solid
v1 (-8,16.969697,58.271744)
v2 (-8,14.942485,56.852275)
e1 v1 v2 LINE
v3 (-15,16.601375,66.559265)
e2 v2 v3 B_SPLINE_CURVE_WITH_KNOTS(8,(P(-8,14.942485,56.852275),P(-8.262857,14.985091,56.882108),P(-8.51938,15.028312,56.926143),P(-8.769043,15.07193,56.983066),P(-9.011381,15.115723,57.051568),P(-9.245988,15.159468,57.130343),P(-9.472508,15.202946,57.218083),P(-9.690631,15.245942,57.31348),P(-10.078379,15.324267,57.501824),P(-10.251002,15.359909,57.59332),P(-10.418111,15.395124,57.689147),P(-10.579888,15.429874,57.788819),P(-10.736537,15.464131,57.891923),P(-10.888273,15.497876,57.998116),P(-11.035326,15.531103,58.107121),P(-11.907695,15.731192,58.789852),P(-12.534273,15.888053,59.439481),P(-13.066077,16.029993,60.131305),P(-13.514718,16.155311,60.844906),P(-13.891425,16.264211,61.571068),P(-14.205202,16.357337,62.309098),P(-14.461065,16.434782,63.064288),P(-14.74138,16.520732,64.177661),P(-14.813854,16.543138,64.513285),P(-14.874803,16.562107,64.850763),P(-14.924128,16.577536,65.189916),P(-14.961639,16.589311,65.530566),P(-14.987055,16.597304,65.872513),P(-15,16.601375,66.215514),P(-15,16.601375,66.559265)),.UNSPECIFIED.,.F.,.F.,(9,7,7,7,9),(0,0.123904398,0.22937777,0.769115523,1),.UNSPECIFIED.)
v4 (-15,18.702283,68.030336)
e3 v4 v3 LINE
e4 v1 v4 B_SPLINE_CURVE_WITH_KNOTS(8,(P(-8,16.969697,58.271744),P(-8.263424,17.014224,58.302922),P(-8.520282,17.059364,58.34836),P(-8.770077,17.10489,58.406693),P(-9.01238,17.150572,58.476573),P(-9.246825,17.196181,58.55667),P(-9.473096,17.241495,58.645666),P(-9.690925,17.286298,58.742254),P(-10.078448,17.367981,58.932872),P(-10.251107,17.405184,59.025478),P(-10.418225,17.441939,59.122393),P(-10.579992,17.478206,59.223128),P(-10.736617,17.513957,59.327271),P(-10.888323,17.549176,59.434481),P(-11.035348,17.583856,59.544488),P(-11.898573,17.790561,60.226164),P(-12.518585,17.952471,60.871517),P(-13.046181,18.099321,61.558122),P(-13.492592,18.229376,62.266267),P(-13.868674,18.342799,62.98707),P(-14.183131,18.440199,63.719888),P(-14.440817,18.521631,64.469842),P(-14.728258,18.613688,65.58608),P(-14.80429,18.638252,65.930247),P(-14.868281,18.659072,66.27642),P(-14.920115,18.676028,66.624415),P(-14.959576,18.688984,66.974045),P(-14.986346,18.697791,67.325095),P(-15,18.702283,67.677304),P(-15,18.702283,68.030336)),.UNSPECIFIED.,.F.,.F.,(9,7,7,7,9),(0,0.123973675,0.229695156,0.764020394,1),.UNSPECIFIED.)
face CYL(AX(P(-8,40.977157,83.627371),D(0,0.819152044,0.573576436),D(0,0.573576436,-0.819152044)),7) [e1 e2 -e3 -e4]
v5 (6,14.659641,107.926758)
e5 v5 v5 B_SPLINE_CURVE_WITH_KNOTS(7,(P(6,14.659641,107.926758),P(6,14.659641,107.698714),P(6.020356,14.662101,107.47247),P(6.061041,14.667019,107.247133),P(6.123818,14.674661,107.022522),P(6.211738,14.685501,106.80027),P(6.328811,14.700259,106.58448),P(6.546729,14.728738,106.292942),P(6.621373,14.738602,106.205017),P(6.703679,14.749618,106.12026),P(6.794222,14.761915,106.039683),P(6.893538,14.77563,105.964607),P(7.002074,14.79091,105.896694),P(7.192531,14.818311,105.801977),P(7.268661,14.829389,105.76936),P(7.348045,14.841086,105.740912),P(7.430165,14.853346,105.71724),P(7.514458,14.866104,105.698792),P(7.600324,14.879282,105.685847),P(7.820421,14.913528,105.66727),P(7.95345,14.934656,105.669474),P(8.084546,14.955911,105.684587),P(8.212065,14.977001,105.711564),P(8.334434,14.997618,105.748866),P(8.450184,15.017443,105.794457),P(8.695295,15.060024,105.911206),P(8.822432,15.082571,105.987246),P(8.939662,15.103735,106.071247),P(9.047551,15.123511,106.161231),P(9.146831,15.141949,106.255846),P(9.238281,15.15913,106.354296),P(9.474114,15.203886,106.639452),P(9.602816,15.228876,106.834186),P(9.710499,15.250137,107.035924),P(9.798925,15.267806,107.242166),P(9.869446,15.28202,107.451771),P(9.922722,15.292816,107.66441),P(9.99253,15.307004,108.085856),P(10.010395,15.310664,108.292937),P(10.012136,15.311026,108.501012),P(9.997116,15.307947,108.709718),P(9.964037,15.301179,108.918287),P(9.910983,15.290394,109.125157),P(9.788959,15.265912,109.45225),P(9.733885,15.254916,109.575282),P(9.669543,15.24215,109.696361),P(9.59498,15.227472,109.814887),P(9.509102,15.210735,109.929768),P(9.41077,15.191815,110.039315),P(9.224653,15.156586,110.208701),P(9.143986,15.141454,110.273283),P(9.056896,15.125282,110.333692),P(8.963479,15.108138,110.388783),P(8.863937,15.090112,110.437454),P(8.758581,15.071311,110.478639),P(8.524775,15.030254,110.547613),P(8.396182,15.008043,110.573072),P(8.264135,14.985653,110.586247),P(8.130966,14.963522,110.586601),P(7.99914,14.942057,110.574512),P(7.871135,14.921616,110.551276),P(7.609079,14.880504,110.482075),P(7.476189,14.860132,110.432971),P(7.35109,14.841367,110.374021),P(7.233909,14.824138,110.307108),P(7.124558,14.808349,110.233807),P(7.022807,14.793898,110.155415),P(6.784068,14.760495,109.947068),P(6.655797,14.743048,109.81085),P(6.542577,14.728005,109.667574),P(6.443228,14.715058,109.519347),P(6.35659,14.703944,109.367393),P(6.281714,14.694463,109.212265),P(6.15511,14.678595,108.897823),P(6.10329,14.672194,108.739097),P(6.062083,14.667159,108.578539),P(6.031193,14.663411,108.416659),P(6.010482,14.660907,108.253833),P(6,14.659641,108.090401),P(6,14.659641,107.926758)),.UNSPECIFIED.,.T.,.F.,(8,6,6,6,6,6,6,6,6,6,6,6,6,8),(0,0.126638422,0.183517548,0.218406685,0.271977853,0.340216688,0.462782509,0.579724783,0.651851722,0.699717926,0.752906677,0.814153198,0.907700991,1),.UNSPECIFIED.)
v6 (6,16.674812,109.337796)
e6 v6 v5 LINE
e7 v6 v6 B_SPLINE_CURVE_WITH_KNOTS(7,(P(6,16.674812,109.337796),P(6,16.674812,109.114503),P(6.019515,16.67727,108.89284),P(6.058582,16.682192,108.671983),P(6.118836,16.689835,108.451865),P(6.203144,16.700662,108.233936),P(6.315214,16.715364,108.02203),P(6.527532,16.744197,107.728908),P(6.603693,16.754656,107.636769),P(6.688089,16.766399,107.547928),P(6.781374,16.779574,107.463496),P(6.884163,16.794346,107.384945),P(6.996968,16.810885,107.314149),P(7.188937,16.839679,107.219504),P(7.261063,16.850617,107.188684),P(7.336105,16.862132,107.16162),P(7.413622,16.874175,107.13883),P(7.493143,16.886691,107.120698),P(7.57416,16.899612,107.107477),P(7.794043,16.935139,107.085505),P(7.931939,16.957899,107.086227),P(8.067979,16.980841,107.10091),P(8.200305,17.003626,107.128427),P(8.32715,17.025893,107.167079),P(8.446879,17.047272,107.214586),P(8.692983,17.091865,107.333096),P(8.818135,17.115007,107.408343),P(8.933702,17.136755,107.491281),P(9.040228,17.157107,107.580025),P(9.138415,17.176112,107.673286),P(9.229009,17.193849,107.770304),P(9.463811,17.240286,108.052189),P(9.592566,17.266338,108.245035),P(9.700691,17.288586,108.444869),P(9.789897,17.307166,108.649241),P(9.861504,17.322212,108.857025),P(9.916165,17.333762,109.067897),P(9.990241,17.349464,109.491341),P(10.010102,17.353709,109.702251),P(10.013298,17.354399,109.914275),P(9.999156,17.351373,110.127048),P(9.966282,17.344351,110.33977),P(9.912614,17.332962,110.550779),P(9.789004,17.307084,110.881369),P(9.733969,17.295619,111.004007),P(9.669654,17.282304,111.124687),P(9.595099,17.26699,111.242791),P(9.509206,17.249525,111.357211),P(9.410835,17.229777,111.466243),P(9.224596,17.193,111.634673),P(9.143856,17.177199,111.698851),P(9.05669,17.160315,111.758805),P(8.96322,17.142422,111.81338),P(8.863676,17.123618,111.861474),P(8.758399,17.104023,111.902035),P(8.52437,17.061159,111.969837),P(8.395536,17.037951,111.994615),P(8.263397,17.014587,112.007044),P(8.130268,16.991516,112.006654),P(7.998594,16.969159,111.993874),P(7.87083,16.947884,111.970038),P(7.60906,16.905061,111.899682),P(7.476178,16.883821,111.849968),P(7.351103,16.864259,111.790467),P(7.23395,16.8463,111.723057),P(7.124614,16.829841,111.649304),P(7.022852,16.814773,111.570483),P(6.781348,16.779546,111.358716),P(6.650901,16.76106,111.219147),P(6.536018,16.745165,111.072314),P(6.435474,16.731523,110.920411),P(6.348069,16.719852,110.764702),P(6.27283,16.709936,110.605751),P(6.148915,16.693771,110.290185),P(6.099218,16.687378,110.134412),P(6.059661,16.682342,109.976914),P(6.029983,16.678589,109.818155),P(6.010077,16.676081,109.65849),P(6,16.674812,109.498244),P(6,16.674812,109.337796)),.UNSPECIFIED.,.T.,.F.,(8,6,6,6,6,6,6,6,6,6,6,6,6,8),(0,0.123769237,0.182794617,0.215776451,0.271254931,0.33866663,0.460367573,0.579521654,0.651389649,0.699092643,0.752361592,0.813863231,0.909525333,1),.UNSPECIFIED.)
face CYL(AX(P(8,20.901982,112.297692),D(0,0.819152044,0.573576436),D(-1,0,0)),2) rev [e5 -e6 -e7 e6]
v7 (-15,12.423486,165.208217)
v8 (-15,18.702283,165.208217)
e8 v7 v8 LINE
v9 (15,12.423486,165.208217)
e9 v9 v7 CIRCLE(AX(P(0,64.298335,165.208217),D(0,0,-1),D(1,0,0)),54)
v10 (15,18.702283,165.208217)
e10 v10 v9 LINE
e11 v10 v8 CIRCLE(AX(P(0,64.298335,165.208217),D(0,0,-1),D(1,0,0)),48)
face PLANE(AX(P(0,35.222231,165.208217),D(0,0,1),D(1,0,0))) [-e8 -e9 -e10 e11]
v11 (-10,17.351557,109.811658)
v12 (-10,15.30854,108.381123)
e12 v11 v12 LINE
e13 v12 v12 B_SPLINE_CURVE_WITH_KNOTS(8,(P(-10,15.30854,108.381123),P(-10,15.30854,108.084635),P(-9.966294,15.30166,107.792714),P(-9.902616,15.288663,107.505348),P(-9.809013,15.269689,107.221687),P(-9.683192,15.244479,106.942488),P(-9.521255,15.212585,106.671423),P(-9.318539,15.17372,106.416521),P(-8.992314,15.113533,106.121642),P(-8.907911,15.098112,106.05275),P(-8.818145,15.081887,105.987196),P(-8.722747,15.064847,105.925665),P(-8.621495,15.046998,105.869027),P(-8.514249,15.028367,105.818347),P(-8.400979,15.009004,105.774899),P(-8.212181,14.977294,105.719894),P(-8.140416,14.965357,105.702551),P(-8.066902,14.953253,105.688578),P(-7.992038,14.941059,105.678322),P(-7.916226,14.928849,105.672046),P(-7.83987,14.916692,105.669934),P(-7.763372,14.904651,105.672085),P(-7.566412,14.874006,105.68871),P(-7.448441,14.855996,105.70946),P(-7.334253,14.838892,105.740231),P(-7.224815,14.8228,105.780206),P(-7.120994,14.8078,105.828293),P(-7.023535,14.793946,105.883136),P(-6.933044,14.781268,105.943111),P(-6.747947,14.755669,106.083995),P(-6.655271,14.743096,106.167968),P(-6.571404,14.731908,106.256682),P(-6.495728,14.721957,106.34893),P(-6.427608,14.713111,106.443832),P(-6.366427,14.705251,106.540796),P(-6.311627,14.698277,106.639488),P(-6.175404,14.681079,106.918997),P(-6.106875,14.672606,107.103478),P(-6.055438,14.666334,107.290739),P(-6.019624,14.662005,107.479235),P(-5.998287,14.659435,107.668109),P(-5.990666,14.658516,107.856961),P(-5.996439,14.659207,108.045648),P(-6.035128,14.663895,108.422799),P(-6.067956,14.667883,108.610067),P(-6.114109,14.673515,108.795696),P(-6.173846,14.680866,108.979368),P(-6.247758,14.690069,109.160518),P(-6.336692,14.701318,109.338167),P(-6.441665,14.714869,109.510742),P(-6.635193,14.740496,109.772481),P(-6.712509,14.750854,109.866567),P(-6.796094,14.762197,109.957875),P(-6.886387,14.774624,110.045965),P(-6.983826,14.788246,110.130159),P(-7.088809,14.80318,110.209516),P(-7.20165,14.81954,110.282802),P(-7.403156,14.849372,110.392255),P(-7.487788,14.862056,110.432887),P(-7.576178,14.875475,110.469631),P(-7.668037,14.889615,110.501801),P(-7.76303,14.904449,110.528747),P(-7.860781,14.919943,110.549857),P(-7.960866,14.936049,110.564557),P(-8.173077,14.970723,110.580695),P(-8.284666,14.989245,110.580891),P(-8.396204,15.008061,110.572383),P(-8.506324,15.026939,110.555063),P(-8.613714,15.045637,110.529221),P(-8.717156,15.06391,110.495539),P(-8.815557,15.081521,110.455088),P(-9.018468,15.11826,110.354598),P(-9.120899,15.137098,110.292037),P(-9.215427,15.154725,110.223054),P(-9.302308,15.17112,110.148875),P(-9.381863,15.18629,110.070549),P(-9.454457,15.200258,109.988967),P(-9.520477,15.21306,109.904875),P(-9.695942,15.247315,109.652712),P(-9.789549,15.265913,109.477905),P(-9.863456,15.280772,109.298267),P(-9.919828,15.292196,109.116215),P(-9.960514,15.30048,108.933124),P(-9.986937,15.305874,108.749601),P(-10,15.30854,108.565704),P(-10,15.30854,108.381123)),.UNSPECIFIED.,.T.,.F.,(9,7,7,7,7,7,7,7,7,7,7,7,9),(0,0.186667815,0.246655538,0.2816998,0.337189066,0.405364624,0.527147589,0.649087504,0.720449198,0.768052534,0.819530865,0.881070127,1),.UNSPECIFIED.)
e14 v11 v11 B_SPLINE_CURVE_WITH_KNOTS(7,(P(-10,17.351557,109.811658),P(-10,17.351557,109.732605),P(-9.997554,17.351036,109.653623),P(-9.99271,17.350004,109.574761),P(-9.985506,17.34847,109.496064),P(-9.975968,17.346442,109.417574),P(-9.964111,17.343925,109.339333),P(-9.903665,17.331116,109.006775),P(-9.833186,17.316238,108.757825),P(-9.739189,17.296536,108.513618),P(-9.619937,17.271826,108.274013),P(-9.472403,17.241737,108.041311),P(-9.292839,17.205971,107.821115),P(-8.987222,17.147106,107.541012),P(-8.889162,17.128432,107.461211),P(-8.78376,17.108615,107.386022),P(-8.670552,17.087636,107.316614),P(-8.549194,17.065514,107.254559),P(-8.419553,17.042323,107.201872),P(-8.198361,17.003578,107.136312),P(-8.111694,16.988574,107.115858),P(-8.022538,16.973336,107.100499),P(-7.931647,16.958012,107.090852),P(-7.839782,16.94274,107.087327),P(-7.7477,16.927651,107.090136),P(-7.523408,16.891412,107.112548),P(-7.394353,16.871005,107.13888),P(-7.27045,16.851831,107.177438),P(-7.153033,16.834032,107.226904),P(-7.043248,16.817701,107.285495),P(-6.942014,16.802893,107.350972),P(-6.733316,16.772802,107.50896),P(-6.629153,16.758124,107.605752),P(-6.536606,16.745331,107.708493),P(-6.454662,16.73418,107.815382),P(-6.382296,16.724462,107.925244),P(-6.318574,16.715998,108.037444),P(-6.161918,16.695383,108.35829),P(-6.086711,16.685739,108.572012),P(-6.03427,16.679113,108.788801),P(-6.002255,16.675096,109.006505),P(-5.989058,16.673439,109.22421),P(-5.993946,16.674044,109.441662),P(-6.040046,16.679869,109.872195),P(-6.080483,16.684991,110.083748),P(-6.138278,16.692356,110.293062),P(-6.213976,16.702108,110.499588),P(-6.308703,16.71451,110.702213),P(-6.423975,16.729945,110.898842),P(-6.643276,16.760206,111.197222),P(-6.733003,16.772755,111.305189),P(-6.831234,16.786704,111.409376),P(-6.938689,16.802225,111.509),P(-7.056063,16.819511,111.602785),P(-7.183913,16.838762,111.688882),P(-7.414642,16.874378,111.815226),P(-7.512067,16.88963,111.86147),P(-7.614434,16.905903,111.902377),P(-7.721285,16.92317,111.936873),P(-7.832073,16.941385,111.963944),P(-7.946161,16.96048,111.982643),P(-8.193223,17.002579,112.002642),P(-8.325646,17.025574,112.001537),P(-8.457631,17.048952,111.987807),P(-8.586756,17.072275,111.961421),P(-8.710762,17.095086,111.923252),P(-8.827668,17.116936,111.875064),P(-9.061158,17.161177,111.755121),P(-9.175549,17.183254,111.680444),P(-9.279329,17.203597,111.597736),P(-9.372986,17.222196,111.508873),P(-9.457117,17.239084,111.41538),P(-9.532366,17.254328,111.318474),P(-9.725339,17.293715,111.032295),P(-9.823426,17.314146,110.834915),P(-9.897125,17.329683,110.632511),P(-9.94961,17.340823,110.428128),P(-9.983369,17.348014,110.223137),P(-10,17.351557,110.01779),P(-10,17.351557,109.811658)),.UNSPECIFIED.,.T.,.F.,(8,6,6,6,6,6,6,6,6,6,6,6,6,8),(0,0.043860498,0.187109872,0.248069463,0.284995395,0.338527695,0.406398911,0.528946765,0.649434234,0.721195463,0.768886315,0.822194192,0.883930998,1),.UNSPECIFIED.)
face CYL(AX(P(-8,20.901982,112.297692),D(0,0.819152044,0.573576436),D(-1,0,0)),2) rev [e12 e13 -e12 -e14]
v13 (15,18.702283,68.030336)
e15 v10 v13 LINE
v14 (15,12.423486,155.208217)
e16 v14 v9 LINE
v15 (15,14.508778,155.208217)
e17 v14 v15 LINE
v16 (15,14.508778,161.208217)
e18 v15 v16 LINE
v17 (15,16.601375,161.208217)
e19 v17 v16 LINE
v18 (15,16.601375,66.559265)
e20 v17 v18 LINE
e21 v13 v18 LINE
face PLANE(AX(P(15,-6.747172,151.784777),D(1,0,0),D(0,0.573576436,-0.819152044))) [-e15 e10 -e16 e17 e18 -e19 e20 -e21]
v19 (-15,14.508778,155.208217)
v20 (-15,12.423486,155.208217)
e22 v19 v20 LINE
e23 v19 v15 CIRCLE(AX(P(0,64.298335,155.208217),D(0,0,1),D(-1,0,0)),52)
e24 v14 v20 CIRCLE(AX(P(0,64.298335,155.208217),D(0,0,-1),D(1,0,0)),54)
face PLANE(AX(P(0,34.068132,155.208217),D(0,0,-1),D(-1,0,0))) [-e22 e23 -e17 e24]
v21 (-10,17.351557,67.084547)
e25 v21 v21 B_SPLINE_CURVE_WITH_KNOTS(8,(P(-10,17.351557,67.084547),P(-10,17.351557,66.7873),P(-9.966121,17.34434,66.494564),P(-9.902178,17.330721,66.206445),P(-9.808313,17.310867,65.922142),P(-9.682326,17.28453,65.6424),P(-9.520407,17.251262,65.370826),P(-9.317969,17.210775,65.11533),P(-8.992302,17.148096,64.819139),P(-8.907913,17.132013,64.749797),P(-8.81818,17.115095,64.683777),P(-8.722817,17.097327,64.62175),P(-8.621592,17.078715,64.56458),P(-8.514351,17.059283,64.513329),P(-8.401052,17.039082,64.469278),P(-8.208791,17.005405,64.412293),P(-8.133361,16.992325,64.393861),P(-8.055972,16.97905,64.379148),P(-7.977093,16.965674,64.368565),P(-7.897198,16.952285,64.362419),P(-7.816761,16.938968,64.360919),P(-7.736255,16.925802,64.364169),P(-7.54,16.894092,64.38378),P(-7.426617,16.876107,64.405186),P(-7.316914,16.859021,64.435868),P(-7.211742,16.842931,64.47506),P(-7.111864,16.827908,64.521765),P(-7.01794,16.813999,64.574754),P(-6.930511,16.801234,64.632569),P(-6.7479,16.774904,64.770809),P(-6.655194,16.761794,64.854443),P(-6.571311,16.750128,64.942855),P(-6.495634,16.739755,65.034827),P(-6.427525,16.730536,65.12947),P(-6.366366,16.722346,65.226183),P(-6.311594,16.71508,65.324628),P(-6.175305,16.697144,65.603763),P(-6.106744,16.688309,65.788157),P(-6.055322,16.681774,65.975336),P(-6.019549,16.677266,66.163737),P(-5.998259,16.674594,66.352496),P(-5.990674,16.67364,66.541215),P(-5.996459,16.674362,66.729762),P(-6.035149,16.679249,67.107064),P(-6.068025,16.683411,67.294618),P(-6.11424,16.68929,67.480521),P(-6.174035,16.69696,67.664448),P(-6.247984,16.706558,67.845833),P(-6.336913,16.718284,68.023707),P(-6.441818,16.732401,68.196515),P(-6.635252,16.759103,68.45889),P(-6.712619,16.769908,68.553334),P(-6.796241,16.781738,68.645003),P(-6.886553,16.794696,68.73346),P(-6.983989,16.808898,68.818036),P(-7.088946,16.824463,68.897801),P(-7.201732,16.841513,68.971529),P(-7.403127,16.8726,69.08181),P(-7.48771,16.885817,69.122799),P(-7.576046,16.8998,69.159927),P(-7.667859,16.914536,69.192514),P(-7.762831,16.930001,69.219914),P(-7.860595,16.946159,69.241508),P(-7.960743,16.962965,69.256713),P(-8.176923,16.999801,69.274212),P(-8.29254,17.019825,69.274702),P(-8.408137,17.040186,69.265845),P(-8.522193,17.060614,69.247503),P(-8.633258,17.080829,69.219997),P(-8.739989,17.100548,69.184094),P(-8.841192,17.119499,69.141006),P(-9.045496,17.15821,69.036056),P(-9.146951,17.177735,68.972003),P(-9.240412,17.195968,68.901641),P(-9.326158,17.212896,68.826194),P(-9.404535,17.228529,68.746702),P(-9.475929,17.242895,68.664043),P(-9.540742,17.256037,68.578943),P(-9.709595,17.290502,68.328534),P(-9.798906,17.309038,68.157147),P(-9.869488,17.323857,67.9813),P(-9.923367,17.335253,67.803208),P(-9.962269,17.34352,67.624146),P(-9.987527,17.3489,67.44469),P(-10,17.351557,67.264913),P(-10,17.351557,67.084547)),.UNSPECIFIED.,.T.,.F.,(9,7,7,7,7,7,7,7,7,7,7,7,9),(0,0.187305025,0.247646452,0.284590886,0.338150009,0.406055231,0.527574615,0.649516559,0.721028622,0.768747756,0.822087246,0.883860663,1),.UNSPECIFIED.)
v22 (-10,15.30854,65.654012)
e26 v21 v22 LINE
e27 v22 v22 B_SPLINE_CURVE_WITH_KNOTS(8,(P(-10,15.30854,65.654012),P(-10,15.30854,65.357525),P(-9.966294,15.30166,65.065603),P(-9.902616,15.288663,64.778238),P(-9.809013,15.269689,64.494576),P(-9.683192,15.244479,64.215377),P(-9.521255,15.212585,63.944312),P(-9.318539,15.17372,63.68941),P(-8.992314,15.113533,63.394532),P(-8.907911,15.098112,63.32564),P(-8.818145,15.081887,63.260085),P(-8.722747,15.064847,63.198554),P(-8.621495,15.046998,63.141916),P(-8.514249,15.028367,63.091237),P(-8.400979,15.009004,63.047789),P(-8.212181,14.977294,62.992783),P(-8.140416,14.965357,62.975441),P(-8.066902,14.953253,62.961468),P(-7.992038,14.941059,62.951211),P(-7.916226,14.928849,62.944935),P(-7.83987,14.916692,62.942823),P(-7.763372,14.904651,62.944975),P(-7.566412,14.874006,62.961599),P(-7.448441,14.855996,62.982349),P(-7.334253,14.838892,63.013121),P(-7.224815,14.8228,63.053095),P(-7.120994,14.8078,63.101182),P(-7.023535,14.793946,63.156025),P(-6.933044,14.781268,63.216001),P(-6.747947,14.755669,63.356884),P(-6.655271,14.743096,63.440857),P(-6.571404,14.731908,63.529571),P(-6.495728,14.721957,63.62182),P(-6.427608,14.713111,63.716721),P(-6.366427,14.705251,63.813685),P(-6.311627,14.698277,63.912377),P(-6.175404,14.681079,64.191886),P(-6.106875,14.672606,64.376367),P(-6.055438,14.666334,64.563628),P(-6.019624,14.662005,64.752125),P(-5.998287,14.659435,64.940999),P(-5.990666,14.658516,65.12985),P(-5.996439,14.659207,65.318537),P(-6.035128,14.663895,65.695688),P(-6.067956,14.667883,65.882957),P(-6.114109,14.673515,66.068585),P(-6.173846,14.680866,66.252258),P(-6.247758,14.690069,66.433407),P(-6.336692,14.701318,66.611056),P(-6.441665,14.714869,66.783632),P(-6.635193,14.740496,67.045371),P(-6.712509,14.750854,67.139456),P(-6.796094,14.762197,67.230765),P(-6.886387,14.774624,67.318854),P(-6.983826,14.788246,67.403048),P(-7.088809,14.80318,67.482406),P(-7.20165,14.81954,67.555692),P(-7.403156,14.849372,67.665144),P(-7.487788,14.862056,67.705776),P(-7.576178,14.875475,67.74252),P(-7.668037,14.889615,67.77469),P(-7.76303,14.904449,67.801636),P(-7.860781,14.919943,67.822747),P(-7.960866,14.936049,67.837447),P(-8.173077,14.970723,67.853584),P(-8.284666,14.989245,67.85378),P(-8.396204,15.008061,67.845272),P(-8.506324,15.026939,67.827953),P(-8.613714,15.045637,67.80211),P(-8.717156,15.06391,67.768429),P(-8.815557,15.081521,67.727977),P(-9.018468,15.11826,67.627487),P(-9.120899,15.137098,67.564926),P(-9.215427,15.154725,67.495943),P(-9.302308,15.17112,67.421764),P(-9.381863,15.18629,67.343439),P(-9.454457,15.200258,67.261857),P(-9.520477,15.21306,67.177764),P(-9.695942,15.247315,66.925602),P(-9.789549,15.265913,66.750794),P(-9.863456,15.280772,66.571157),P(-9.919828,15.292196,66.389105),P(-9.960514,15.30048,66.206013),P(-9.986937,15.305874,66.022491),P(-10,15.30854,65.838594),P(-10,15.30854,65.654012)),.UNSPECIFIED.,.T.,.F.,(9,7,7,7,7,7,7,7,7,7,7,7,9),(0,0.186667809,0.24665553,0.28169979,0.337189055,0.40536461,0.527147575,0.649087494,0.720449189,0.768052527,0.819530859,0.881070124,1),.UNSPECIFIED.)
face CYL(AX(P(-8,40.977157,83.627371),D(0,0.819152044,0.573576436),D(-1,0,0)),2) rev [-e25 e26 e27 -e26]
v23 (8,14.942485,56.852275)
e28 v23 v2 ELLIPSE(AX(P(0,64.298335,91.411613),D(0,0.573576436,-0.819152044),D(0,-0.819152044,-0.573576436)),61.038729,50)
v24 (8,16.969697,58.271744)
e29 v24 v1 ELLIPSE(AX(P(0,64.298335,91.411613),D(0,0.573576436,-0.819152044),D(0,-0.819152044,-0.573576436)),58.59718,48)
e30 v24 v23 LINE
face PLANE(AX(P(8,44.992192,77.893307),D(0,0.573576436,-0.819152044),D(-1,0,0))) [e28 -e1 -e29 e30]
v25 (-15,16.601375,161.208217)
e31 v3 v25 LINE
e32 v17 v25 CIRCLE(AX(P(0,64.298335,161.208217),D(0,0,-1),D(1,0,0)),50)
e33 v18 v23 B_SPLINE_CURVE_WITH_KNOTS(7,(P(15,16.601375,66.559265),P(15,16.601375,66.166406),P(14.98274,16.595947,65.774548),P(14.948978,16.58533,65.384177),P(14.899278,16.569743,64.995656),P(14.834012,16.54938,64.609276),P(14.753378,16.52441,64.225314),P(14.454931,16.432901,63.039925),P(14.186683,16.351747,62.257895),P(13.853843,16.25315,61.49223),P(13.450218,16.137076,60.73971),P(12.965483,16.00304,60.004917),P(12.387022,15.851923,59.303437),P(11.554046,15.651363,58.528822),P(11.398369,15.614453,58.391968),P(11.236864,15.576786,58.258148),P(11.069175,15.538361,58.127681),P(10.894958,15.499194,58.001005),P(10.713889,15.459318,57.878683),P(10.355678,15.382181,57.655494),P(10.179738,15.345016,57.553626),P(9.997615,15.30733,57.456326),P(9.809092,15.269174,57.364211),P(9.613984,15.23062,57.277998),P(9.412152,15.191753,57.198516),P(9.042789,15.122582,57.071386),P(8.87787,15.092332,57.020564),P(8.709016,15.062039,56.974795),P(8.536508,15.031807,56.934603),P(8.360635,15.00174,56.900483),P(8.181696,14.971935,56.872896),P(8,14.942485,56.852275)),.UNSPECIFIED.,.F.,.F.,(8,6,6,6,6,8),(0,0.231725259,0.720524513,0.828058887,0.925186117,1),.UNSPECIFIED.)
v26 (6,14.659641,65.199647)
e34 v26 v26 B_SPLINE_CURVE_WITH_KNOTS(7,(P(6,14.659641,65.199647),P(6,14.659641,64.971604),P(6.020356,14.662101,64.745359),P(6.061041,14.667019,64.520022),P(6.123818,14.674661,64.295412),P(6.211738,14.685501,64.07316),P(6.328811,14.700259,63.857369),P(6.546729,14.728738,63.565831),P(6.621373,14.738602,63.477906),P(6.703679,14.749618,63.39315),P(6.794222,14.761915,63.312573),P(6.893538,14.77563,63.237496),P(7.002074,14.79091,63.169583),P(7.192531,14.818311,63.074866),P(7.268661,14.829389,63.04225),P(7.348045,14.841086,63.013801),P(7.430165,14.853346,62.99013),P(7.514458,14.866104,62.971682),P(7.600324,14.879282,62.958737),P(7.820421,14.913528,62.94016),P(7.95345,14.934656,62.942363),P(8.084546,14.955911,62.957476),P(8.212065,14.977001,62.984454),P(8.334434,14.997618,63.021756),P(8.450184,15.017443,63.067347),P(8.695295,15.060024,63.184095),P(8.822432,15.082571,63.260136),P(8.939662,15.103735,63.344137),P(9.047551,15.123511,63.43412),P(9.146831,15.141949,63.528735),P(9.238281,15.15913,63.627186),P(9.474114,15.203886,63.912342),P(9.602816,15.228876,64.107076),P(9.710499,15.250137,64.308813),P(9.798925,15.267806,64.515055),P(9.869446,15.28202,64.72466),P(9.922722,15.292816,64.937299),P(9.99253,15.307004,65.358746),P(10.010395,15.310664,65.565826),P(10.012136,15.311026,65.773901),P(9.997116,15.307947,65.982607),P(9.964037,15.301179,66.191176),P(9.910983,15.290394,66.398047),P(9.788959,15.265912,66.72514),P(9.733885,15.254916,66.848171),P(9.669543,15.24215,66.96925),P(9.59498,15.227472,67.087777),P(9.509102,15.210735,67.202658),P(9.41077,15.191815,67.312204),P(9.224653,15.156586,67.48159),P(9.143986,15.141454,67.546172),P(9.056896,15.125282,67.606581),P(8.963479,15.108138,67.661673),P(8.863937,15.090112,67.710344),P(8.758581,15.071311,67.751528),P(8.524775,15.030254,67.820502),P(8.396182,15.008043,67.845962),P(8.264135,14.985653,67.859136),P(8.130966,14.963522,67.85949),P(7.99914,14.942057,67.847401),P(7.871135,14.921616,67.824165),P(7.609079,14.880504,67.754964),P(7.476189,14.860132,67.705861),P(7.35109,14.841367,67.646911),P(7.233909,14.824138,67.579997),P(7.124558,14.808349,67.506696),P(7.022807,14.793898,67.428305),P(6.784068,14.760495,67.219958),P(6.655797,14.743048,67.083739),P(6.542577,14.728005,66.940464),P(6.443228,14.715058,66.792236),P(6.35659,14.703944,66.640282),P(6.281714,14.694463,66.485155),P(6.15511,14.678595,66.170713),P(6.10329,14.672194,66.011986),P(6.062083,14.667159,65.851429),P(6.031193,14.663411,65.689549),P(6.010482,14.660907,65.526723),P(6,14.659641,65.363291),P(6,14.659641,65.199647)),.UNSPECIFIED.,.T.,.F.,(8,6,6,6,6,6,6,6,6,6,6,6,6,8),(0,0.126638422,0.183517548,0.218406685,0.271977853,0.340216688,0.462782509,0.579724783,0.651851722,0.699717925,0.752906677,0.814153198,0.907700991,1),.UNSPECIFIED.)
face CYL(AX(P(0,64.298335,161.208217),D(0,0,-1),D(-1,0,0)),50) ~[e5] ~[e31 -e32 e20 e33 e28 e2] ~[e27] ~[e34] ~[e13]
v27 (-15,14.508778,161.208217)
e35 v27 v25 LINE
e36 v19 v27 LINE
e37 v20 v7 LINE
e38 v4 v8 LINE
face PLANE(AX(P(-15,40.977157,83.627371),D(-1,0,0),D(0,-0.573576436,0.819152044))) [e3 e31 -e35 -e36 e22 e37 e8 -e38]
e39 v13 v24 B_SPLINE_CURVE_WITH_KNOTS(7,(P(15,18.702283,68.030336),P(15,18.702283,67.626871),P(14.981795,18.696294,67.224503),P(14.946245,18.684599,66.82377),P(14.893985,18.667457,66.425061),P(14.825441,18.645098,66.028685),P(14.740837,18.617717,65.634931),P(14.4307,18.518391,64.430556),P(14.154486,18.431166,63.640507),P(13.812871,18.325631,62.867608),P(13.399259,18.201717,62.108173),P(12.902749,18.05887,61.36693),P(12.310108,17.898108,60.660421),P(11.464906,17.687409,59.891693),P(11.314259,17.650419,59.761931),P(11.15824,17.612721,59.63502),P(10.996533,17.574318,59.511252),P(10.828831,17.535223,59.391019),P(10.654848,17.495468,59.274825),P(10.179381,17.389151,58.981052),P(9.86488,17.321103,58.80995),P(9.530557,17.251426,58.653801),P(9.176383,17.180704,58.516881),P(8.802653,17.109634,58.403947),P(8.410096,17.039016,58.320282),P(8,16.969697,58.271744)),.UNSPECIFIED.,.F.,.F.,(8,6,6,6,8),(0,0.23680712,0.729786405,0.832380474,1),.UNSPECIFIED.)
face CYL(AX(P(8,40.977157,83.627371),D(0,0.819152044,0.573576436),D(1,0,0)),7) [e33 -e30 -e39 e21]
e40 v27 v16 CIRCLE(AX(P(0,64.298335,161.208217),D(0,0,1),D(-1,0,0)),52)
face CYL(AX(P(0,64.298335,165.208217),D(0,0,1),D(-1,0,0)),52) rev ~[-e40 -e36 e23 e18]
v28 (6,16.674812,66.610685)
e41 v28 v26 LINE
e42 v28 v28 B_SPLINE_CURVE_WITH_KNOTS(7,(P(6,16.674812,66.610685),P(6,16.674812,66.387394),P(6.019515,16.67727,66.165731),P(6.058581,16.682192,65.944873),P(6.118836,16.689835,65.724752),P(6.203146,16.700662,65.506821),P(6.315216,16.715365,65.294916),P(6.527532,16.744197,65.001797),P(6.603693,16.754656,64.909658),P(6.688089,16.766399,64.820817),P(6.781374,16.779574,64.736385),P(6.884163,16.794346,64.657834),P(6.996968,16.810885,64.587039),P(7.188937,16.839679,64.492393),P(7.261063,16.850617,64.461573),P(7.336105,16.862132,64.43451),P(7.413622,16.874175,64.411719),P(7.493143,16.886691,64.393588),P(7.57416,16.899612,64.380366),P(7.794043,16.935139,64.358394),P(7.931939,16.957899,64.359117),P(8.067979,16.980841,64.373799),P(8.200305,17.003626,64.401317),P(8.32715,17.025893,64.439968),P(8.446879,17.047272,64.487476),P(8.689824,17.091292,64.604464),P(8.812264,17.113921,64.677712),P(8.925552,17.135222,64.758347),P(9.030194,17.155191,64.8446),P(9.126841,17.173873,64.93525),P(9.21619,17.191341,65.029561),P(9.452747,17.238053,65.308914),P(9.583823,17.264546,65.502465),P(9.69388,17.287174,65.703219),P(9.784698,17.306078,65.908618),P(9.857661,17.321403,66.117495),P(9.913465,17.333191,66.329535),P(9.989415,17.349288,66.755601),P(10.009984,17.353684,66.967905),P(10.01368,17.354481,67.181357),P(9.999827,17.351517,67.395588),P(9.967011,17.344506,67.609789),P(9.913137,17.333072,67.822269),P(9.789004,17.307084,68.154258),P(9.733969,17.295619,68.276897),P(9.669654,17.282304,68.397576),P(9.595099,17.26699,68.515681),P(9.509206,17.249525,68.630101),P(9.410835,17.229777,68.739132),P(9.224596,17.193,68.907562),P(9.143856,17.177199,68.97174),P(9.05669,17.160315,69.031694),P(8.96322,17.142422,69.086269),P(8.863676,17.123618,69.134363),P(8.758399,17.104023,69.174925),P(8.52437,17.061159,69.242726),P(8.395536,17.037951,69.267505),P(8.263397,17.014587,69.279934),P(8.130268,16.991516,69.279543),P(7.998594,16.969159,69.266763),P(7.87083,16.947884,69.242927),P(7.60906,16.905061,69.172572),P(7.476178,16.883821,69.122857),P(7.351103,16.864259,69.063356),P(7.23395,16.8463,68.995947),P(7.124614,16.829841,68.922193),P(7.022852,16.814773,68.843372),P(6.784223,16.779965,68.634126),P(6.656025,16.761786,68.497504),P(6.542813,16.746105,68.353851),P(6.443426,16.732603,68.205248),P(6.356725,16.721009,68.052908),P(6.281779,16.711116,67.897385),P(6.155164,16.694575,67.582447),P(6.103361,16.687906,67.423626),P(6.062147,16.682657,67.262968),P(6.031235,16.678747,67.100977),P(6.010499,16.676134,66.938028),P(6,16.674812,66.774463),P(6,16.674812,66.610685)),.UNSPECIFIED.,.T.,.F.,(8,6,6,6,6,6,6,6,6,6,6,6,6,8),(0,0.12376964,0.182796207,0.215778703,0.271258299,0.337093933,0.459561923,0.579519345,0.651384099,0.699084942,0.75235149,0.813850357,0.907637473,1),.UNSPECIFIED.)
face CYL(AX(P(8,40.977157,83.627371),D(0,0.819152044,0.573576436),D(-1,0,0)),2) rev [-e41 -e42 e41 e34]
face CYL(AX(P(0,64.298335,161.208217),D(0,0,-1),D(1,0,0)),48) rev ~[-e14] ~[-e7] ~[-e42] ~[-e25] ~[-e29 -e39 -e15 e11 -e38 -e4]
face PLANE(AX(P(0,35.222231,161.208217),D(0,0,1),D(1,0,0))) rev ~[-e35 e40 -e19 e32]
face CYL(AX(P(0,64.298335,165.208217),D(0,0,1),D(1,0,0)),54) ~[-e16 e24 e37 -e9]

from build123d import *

# Parameters (mm, degrees)
BOSS_EXTRUDE1_DEPTH     = 161.208217
BOSS_EXTRUDE2_DEPTH     = 4
BOSS_EXTRUDE3_DEPTH     = 10
BOSS_EXTRUDE4_DEPTH     = 4
SKETCH6_R               = 2
CUT_EXTRUDE1_DEPTH      = 74.097308941
CUT_EXTRUDE1_DEPTH_BACK = 66.896441548


with BuildPart() as part:
    # Sketch1 → Boss-Extrude1 (new body)
    with BuildSketch(Plane.XY):
        with BuildLine():
            Line((50, 64.298335316), (48, 64.298335316))
            ThreePointArc((48, 64.298335316), (0, 16.298335316), (-48, 64.298335316))
            Line((-48, 64.298335316), (-50, 64.298335316))
            ThreePointArc((-50, 64.298335316), (0, 14.298335316), (50, 64.298335316))
        make_face()
    extrude(amount=BOSS_EXTRUDE1_DEPTH)

    # Sketch3 → Boss-Extrude2 (add)
    with BuildSketch(Plane.XY.offset(161.208216537)):
        with BuildLine():
            Line((50, 64.298335316), (48, 64.298335316))
            ThreePointArc((48, 64.298335316), (0, 16.298335316), (-48, 64.298335316))
            Line((-48, 64.298335316), (-50, 64.298335316))
            ThreePointArc((-50, 64.298335316), (0, 14.298335316), (50, 64.298335316))
        make_face()
    extrude(amount=BOSS_EXTRUDE2_DEPTH)



with BuildPart() as body_2:
    # Sketch4 → Boss-Extrude3 (new body)
    with BuildSketch(Plane.XY.offset(165.208216537)):
        with BuildLine():
            Line((-54, 64.298335316), (-52, 64.298335316))
            ThreePointArc((-52, 64.298335316), (0, 12.298335316), (52, 64.298335316))
            Line((52, 64.298335316), (54, 64.298335316))
            ThreePointArc((54, 64.298335316), (0, 10.298335316), (-54, 64.298335316))
        make_face()
    extrude(amount=-BOSS_EXTRUDE3_DEPTH)


with BuildPart() as part_1:
    add(part.part)

    add(body_2.part)  # Boss-Extrude4 merges body 2
    # Sketch5 → Boss-Extrude4 (add)
    with BuildSketch(Plane.XY.offset(165.208216537)):
        with BuildLine():
            Line((-50, 64.298335316), (-52, 64.298335316))
            ThreePointArc((-52, 64.298335316), (0, 12.298335316), (52, 64.298335316))
            Line((52, 64.298335316), (50, 64.298335316))
            ThreePointArc((50, 64.298335316), (0, 14.298335316), (-50, 64.298335316))
        make_face()
    extrude(amount=-BOSS_EXTRUDE4_DEPTH)

    # Sketch6 → Cut-Extrude1 (cut, two sides)
    with BuildSketch(Plane(origin=(0, 66.78809677, 46.765528821), x_dir=(-1, 0, 0), z_dir=(0, -0.819152044, -0.573576436))) as cut_extrude1_sk:
        with Locations((-8, -80)):
            Circle(SKETCH6_R)
        with Locations((8, -80)):
            Circle(SKETCH6_R)
        with Locations((8, -45)):
            Circle(SKETCH6_R)
        with Locations((-8, -45)):
            Circle(SKETCH6_R)
        with BuildLine():
            Line((-15, -128.204829529), (-15, -45))
            ThreePointArc((-15, -45), (-12.949747468, -40.050252532), (-8, -38))
            Line((-8, -38), (8, -38))
            ThreePointArc((8, -38), (12.949747468, -40.050252532), (15, -45))
            Line((15, -45), (15, -128.204829529))
            add(Edge.make_bspline(
                [(15, -128.204829529), (54, -121.736527083), (54, -98.450638275)],
                knots=[1.8522764, 1.8522764, 1.8522764, 3.141592654, 3.141592654, 3.141592654], degree=2, weights=[1, 0.799305254, 1]))
            Line((54, -98.450638275), (54, 36.880010034))
            Line((54, 36.880010034), (-54, 36.880010034))
            Line((-54, 36.880010034), (-54, -98.450638275))
            add(Edge.make_bspline(
                [(-54, -98.450638275), (-54, -121.736527083), (-15, -128.204829529)],
                knots=[0, 0, 0, 1.289316254, 1.289316254, 1.289316254], degree=2, weights=[1, 0.799305254, 1]))
        make_face()
    extrude(amount=CUT_EXTRUDE1_DEPTH, mode=Mode.SUBTRACT)
    extrude(cut_extrude1_sk.sketch, amount=-CUT_EXTRUDE1_DEPTH_BACK, mode=Mode.SUBTRACT)


solid = part_1.part
